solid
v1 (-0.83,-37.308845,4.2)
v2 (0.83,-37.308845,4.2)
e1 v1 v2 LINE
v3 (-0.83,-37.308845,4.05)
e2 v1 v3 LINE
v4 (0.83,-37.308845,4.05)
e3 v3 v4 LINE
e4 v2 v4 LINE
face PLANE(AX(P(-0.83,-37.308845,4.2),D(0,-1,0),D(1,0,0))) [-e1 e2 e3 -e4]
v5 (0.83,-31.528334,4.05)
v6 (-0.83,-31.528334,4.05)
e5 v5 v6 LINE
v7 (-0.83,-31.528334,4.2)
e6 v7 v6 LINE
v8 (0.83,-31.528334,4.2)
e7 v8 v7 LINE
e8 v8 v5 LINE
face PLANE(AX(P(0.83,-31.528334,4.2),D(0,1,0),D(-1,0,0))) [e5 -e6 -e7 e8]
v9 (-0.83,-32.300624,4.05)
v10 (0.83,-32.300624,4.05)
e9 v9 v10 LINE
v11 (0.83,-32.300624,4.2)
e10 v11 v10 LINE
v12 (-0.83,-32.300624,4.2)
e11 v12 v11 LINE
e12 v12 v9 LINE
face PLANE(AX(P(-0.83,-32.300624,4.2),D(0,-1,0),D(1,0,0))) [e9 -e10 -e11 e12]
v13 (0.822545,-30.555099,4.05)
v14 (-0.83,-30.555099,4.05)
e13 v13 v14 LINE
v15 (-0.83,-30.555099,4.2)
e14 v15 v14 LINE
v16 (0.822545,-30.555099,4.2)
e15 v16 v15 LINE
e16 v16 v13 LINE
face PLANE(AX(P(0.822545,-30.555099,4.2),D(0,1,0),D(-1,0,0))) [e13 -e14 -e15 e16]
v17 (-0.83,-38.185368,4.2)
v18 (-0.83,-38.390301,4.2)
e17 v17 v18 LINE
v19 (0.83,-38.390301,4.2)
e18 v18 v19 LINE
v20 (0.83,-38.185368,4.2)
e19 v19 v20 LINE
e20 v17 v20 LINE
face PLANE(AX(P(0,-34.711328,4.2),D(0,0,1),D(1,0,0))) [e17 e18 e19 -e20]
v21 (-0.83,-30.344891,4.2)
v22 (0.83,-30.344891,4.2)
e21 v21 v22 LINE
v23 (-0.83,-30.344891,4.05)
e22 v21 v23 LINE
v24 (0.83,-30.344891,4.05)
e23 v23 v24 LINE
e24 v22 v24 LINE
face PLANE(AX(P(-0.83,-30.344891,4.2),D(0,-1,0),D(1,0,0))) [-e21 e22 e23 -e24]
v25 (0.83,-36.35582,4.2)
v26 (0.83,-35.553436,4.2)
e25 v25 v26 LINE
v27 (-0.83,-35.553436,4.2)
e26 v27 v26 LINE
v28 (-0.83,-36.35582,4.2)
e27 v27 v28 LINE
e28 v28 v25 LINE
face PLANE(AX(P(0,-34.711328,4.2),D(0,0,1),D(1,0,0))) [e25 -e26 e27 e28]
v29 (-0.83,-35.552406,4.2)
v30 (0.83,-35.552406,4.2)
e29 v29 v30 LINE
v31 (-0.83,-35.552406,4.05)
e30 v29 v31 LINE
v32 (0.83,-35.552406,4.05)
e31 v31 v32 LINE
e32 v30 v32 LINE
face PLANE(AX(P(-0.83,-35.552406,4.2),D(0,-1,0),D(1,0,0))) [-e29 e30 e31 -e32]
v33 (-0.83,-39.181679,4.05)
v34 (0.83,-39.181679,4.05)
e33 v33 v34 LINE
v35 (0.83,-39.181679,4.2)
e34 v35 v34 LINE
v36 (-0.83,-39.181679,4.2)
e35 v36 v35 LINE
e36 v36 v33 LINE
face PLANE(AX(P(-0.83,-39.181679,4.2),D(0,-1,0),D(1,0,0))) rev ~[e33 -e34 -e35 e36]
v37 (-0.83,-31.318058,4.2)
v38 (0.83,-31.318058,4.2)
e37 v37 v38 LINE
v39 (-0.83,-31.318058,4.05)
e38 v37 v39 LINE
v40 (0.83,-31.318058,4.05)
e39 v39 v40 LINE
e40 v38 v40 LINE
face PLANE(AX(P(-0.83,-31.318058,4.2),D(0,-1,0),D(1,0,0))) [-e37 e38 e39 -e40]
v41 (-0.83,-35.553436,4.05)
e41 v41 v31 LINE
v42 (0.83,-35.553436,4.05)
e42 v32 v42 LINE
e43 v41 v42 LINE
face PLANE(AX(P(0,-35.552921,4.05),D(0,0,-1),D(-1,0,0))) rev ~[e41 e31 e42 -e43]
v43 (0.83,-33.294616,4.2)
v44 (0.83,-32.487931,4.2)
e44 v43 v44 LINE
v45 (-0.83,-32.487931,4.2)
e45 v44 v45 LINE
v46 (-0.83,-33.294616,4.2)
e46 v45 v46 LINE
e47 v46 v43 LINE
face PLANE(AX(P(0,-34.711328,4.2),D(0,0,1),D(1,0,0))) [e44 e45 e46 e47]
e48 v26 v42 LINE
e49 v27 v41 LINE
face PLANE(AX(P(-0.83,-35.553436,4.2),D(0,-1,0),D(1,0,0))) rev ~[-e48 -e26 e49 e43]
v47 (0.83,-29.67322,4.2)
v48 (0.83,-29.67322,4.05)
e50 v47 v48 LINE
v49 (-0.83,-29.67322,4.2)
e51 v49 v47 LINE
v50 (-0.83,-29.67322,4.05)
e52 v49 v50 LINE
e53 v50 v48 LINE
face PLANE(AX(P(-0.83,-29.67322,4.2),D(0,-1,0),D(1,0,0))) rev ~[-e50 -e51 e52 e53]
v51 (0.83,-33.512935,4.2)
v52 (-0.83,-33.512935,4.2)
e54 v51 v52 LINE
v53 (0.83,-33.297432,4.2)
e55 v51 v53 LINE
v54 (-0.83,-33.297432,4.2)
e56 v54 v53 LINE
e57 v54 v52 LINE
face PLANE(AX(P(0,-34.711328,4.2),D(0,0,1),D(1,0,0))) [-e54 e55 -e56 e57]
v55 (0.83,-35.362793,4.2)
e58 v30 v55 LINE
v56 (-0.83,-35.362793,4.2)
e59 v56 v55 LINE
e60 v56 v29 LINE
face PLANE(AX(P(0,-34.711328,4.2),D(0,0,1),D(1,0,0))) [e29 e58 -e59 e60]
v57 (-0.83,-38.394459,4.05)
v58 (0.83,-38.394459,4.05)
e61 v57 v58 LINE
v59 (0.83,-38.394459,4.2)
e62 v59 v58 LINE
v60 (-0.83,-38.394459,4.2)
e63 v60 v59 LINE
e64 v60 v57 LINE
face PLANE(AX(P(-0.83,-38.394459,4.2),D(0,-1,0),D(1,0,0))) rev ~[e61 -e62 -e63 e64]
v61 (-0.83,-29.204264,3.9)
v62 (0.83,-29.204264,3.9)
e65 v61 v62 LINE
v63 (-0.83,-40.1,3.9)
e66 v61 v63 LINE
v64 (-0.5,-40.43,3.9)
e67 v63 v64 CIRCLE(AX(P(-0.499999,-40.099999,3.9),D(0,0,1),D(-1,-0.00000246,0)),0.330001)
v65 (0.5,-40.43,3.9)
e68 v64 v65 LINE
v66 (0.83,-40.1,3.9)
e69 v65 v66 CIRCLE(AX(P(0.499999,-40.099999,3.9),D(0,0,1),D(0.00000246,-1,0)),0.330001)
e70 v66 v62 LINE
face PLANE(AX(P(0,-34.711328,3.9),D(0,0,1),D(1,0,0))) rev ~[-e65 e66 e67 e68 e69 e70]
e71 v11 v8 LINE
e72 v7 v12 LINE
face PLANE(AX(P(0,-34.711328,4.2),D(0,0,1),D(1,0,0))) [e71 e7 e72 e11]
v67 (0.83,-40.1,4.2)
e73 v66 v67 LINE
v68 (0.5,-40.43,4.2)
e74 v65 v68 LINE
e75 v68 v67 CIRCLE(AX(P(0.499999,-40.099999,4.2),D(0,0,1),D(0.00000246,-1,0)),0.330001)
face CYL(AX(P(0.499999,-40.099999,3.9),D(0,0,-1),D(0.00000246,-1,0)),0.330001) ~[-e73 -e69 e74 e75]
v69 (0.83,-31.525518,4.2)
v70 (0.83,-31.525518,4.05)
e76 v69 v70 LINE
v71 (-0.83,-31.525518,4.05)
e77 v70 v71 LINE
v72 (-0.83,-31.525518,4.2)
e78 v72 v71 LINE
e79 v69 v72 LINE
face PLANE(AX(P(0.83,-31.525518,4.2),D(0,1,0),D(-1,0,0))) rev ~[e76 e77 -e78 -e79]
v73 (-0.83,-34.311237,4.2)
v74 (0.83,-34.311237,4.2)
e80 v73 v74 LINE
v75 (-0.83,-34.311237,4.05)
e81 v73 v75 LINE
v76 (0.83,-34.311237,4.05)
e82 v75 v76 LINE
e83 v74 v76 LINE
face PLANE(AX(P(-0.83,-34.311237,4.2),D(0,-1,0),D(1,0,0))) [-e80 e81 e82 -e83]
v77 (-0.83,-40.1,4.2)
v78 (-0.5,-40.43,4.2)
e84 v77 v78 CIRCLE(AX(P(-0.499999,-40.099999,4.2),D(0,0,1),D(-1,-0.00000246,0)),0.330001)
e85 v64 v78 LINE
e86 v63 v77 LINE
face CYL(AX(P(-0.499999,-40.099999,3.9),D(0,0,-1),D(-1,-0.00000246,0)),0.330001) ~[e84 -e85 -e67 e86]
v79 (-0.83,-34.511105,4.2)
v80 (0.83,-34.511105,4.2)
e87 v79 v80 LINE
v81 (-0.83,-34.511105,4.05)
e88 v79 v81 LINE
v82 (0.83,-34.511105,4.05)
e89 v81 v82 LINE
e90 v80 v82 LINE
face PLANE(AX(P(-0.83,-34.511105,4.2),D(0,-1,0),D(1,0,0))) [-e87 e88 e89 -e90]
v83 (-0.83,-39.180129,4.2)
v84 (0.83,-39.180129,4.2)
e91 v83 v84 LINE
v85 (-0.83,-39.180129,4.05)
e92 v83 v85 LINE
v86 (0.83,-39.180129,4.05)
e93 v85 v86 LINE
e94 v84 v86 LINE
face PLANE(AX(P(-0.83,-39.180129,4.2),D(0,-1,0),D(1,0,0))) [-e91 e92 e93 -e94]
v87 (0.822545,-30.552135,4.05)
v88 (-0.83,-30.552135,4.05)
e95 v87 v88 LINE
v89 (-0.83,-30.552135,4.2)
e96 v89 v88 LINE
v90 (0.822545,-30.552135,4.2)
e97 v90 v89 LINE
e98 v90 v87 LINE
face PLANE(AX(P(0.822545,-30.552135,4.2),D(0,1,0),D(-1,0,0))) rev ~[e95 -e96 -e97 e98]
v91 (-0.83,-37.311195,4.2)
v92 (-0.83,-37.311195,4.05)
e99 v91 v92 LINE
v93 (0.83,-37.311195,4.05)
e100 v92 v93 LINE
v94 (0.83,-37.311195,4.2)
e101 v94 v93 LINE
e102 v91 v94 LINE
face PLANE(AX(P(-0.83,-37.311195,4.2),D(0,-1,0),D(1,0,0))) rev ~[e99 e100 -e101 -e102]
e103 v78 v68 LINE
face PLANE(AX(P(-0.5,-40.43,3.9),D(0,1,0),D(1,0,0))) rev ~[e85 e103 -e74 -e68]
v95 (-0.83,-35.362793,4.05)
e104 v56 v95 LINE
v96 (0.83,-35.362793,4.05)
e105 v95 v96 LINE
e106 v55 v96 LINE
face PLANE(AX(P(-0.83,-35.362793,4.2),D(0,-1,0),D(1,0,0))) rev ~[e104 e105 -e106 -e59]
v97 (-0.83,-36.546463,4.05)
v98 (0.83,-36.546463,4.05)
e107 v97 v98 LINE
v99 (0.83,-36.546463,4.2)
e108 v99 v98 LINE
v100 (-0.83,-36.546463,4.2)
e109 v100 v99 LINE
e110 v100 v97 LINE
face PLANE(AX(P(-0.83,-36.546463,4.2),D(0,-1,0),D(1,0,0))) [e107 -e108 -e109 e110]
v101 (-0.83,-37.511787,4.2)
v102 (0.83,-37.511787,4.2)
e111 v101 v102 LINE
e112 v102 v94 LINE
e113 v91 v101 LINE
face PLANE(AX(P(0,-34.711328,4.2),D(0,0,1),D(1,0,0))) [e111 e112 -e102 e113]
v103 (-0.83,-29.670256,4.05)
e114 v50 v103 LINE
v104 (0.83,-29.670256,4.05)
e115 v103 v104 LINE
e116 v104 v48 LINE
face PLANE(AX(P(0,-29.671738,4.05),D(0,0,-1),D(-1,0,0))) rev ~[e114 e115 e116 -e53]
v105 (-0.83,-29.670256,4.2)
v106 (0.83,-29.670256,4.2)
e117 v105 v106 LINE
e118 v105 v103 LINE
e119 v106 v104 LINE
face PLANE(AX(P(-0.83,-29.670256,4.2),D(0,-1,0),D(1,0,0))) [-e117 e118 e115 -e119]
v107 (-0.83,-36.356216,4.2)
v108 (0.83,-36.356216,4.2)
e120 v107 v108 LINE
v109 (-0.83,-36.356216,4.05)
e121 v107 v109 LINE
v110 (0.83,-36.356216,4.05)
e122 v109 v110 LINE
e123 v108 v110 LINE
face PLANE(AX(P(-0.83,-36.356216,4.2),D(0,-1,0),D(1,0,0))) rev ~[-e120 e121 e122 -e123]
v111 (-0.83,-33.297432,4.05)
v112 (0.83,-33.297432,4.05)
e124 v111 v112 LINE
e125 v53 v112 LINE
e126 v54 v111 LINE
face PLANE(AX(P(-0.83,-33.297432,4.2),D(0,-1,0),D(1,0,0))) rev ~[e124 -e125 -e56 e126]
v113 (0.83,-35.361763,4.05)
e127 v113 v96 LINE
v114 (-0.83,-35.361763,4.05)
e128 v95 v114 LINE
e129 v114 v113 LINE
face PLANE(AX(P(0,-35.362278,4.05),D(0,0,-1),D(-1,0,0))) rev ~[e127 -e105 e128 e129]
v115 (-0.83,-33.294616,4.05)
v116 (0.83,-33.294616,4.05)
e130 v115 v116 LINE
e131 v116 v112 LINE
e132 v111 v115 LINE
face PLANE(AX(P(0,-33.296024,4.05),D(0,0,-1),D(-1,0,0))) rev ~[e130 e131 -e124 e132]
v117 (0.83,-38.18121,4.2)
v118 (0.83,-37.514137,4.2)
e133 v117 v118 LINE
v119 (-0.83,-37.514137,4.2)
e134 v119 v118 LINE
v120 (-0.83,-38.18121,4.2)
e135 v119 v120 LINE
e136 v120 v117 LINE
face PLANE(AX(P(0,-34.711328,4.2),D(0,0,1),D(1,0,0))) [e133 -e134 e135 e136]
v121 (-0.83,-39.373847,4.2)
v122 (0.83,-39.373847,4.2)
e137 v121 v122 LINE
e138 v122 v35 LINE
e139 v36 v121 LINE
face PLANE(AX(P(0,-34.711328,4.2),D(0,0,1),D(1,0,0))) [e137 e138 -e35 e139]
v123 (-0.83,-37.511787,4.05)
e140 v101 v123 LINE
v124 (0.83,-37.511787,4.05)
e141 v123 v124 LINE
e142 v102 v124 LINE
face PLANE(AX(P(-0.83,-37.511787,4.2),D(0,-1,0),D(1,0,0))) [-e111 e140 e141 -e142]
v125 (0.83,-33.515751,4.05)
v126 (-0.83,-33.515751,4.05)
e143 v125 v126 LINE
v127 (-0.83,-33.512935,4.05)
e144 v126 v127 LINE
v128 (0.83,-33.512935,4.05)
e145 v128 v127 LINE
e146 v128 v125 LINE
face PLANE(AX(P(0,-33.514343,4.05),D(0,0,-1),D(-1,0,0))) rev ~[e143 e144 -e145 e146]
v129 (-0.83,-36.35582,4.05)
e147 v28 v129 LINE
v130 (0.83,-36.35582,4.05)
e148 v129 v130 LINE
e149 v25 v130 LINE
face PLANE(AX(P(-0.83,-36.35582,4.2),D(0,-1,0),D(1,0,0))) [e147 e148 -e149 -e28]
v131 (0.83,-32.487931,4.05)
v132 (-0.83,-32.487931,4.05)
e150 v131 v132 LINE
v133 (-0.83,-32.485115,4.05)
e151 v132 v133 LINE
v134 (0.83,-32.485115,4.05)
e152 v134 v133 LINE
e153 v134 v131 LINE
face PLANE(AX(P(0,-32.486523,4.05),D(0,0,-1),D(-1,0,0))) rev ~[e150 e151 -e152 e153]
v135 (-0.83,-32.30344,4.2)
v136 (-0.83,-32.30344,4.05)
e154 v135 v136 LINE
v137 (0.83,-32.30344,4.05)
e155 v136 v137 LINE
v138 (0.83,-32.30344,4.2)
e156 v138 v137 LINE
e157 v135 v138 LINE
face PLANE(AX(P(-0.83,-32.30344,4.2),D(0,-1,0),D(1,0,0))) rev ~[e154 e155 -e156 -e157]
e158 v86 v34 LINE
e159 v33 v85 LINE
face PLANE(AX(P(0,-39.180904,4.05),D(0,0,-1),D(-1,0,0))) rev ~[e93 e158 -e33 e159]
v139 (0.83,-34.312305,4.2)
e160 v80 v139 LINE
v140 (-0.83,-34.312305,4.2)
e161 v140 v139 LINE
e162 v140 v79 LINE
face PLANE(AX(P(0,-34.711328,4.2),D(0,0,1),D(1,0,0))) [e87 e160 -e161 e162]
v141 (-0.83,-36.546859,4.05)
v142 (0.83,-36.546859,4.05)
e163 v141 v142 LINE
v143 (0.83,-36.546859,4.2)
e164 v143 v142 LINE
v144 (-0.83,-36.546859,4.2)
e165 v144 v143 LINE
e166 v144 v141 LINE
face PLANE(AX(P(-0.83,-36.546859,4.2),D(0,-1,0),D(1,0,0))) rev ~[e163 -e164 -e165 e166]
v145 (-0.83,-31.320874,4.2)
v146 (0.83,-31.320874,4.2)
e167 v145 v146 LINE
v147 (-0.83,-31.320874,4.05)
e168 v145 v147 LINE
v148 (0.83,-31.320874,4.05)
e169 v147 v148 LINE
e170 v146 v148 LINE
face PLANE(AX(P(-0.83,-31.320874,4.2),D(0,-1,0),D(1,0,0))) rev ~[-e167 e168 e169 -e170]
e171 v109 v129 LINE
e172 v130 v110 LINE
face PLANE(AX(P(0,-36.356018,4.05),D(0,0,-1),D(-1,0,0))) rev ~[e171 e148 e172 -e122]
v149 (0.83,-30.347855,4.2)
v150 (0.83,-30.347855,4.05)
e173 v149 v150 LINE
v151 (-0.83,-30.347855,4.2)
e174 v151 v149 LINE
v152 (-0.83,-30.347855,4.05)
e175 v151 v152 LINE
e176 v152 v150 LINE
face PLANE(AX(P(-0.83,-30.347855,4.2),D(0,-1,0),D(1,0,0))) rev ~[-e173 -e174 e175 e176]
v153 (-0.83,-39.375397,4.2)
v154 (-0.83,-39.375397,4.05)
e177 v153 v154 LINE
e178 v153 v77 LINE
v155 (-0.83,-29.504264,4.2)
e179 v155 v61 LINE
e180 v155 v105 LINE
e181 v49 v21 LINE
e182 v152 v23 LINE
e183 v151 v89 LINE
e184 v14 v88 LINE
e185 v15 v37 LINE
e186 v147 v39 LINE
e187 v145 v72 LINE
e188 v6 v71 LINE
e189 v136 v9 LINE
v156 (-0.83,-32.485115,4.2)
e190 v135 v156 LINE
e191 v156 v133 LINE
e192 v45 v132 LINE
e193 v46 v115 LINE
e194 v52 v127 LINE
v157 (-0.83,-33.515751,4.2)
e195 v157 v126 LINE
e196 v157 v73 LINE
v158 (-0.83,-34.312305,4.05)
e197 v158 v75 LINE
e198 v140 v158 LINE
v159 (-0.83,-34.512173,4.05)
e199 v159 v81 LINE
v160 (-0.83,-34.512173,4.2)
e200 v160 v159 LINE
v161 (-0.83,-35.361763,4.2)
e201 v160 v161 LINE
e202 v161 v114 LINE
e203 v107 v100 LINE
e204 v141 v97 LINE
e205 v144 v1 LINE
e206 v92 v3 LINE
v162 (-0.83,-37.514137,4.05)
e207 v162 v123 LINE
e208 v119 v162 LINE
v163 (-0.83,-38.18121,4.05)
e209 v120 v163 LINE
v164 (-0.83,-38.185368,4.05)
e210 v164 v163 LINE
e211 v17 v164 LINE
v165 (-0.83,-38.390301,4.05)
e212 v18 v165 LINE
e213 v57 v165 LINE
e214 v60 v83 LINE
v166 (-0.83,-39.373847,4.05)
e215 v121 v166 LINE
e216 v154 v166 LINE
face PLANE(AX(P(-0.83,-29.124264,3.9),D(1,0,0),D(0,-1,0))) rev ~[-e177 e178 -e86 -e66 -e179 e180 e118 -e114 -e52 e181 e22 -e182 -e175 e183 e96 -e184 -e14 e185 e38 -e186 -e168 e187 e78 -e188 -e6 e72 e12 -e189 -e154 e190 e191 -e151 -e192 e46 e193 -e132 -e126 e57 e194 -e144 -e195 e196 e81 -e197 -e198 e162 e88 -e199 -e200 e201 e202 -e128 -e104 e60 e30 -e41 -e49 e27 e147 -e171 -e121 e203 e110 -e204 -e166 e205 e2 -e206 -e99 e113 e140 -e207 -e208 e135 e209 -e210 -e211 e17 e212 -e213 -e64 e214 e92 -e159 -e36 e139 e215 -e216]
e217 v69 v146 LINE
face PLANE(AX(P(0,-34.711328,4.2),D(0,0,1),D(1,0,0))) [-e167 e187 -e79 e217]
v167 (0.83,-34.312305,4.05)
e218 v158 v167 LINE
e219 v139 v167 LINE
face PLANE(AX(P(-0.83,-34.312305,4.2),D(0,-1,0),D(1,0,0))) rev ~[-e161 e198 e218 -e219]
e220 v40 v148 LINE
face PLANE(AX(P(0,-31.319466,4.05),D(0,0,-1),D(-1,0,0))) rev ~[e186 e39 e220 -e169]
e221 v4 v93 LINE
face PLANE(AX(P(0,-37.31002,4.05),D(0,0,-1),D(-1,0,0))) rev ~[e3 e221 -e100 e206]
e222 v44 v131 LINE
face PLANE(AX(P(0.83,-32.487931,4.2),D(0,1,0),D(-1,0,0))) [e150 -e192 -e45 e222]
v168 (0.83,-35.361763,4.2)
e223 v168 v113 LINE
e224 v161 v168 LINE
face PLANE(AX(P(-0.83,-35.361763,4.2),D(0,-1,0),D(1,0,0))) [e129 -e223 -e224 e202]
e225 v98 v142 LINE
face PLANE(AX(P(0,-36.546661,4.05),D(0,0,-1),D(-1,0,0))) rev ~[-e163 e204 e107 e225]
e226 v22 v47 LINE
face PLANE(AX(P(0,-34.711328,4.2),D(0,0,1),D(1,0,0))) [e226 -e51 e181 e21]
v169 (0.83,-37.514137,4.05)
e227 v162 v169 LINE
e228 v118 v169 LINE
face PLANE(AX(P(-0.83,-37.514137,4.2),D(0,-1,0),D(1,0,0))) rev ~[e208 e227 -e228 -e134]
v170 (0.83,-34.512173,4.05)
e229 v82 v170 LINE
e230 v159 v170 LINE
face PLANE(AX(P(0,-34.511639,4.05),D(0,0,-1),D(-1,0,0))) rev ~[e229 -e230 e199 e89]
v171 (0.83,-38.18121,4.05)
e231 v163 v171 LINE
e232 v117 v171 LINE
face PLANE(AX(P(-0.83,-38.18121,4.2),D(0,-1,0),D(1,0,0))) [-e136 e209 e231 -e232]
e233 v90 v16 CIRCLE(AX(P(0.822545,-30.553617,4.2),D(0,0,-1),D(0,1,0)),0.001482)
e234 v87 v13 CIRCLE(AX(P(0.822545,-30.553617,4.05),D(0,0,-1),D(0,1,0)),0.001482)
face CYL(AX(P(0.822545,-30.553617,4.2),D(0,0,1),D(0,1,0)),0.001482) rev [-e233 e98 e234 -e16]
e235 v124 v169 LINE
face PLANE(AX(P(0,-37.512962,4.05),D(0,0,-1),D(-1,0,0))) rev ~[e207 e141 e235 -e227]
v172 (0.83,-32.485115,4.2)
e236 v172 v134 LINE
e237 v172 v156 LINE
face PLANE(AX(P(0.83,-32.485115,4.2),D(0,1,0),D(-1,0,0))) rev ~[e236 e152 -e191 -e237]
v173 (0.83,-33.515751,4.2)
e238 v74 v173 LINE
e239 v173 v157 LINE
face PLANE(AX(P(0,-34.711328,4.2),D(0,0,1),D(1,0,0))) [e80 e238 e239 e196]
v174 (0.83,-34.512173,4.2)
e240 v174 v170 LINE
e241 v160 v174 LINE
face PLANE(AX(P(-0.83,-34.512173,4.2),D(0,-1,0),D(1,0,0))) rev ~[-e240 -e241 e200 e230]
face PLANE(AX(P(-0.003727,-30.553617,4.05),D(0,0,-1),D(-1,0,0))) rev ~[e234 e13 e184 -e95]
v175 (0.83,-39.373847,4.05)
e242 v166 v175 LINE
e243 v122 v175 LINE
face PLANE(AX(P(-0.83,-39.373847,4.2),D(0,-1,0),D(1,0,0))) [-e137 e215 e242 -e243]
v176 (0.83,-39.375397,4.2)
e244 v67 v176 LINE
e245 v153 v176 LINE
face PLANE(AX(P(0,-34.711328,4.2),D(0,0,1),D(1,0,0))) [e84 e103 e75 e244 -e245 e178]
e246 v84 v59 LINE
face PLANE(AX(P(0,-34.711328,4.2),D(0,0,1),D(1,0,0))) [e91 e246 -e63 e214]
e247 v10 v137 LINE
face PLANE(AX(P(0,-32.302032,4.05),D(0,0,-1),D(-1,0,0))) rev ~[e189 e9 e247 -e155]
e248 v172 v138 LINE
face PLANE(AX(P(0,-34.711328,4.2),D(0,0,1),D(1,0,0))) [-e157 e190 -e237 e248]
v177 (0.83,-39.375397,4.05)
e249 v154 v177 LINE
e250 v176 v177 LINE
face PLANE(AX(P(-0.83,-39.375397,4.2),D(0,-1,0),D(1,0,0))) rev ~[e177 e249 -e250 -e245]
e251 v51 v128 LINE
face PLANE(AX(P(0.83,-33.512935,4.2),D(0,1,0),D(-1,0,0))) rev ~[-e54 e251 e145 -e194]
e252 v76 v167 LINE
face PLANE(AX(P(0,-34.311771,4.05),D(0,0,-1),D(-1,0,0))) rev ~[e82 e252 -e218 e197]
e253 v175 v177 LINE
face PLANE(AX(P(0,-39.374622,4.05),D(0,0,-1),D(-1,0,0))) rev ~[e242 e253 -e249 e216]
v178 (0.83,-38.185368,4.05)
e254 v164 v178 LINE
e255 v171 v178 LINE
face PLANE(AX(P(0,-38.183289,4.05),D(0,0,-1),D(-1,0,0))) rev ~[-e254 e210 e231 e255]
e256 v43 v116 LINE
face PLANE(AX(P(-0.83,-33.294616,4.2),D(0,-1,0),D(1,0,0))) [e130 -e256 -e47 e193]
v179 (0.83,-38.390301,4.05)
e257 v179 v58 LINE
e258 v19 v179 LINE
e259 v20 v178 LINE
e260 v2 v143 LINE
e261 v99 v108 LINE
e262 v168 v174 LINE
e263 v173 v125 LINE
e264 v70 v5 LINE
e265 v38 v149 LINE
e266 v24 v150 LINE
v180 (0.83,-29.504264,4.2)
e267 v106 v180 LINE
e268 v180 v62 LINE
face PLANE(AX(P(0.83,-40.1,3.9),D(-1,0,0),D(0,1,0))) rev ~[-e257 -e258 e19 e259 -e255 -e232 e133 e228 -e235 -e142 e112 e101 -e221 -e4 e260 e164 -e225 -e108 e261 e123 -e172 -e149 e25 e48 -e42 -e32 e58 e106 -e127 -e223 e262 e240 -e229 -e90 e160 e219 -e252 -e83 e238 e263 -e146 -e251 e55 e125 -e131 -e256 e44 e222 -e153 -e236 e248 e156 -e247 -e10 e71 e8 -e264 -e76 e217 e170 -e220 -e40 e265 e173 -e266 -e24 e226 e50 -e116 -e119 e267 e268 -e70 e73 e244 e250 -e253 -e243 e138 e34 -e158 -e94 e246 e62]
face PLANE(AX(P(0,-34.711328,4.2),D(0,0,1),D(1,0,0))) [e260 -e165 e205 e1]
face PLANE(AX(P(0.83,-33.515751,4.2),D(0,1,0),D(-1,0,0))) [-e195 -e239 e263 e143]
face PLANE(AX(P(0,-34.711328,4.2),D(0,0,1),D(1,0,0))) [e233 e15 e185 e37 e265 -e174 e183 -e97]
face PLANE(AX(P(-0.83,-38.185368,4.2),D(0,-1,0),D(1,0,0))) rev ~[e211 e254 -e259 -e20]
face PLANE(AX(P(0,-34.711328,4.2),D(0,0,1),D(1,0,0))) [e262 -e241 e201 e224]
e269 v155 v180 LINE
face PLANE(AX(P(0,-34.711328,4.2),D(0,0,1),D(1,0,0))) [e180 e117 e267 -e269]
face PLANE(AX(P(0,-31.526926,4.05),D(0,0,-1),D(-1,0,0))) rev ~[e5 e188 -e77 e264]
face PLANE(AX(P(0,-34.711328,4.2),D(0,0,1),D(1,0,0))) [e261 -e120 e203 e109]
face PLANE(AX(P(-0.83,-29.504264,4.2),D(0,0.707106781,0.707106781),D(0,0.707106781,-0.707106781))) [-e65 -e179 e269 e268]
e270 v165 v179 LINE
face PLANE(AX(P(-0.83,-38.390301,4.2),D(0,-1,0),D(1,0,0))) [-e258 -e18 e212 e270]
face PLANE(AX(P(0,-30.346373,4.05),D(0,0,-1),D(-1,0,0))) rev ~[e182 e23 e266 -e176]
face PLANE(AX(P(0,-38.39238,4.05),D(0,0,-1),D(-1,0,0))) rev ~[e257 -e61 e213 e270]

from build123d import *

# Parameters (mm, degrees)
PAD005_DEPTH    = 0.3
POCKET019_DEPTH = 5
POCKET021_DEPTH = 0.15


with BuildPart() as part:
    # Sketch022 (on Face1 of Binder004) → Pad005 (new body)
    with BuildSketch(Plane.XY.offset(3.9)):
        with BuildLine():
            Line((-0.83, -29.124264), (-0.83, -40.1))
            ThreePointArc((-0.83, -40.1), (-0.733345, -40.333345), (-0.5, -40.43))
            Line((-0.5, -40.43), (0.5, -40.43))
            ThreePointArc((0.5, -40.43), (0.733345, -40.333345), (0.83, -40.1))
            Line((0.83, -40.1), (0.83, -29.124264))
            Line((0.83, -29.124264), (-0.83, -29.124264))
        make_face()
    extrude(amount=PAD005_DEPTH)

    # Sketch023 (on Face1 of Pad005) → Pocket019 (cut)
    with BuildSketch(Plane(origin=(-0.83, 0, 0), x_dir=(0, -1, 0), z_dir=(-1, 0, 0))):
        Polygon((29.124264, 4.2), (29.504264, 4.2), (29.204264, 3.9), (29.124264, 3.9), align=None)
    extrude(amount=-POCKET019_DEPTH, mode=Mode.SUBTRACT)

    # Sketch025 (on Face4 of Pocket019) → Pocket021 (cut)
    with BuildSketch(Plane.XY.offset(4.2)):
        with BuildLine():
            ThreePointArc((-0.83, -29.67322), (-0.831482, -29.671738), (-0.83, -29.670256))
            Line((-0.83, -29.670256), (-0.276667, -29.670256))
            Line((-0.276667, -29.670256), (0.83, -29.670256))
            ThreePointArc((0.83, -29.670256), (0.831482, -29.671738), (0.83, -29.67322))
            Line((-0.276667, -29.67322), (0.83, -29.67322))
            Line((-0.83, -29.67322), (-0.276667, -29.67322))
        make_face()
        with BuildLine():
            ThreePointArc((0.822545, -30.552135), (0.824027, -30.553617), (0.822545, -30.555099))
            Line((0.822545, -30.555099), (0.271697, -30.555099))
            Line((0.271697, -30.555099), (-0.83, -30.555099))
            ThreePointArc((-0.83, -30.555099), (-0.831482, -30.553617), (-0.83, -30.552135))
            Line((0.271697, -30.552135), (-0.83, -30.552135))
            Line((0.822545, -30.552135), (0.271697, -30.552135))
        make_face()
        with BuildLine():
            ThreePointArc((-0.83, -30.347855), (-0.831482, -30.346373), (-0.83, -30.344891))
            Line((-0.83, -30.344891), (-0.276667, -30.344891))
            Line((-0.276667, -30.344891), (0.83, -30.344891))
            ThreePointArc((0.83, -30.344891), (0.831482, -30.346373), (0.83, -30.347855))
            Line((-0.276667, -30.347855), (0.83, -30.347855))
            Line((-0.83, -30.347855), (-0.276667, -30.347855))
        make_face()
        with BuildLine():
            ThreePointArc((-0.83, -31.320874), (-0.831408, -31.319466), (-0.83, -31.318058))
            Line((-0.83, -31.318058), (-0.276667, -31.318058))
            Line((-0.276667, -31.318058), (0.83, -31.318058))
            ThreePointArc((0.83, -31.318058), (0.831408, -31.319466), (0.83, -31.320874))
            Line((-0.276667, -31.320874), (0.83, -31.320874))
            Line((-0.83, -31.320874), (-0.276667, -31.320874))
        make_face()
        with BuildLine():
            ThreePointArc((0.83, -33.512935), (0.831408, -33.514343), (0.83, -33.515751))
            Line((0.83, -33.515751), (0.276667, -33.515751))
            Line((0.276667, -33.515751), (-0.83, -33.515751))
            ThreePointArc((-0.83, -33.515751), (-0.831408, -33.514343), (-0.83, -33.512935))
            Line((0.276667, -33.512935), (-0.83, -33.512935))
            Line((0.83, -33.512935), (0.276667, -33.512935))
        make_face()
        with BuildLine():
            ThreePointArc((-0.83, -33.297432), (-0.831408, -33.296024), (-0.83, -33.294616))
            Line((-0.83, -33.294616), (-0.276667, -33.294616))
            Line((-0.276667, -33.294616), (0.83, -33.294616))
            ThreePointArc((0.83, -33.294616), (0.831408, -33.296024), (0.83, -33.297432))
            Line((-0.276667, -33.297432), (0.83, -33.297432))
            Line((-0.83, -33.297432), (-0.276667, -33.297432))
        make_face()
        with BuildLine():
            ThreePointArc((0.83, -32.485115), (0.831408, -32.486523), (0.83, -32.487931))
            Line((0.83, -32.487931), (0.276667, -32.487931))
            Line((0.276667, -32.487931), (-0.83, -32.487931))
            ThreePointArc((-0.83, -32.487931), (-0.831408, -32.486523), (-0.83, -32.485115))
            Line((0.276667, -32.485115), (-0.83, -32.485115))
            Line((0.83, -32.485115), (0.276667, -32.485115))
        make_face()
        with BuildLine():
            ThreePointArc((-0.83, -32.30344), (-0.831408, -32.302032), (-0.83, -32.300624))
            Line((-0.83, -32.300624), (-0.276667, -32.300624))
            Line((-0.276667, -32.300624), (0.83, -32.300624))
            ThreePointArc((0.83, -32.300624), (0.831408, -32.302032), (0.83, -32.30344))
            Line((-0.276667, -32.30344), (0.83, -32.30344))
            Line((-0.83, -32.30344), (-0.276667, -32.30344))
        make_face()
        with BuildLine():
            ThreePointArc((0.83, -31.525518), (0.831408, -31.526926), (0.83, -31.528334))
            Line((0.83, -31.528334), (0.276667, -31.528334))
            Line((0.276667, -31.528334), (-0.83, -31.528334))
            ThreePointArc((-0.83, -31.528334), (-0.831408, -31.526926), (-0.83, -31.525518))
            Line((0.276667, -31.525518), (-0.83, -31.525518))
            Line((0.83, -31.525518), (0.276667, -31.525518))
        make_face()
        with BuildLine():
            ThreePointArc((-0.83, -34.312305), (-0.830534, -34.311771), (-0.83, -34.311237))
            Line((-0.83, -34.311237), (-0.276667, -34.311237))
            Line((-0.276667, -34.311237), (0.83, -34.311237))
            ThreePointArc((0.83, -34.311237), (0.830534, -34.311771), (0.83, -34.312305))
            Line((-0.276667, -34.312305), (0.83, -34.312305))
            Line((-0.83, -34.312305), (-0.276667, -34.312305))
        make_face()
        with BuildLine():
            ThreePointArc((-0.83, -34.512173), (-0.830534, -34.511639), (-0.83, -34.511105))
            Line((-0.83, -34.511105), (-0.276667, -34.511105))
            Line((-0.276667, -34.511105), (0.83, -34.511105))
            ThreePointArc((0.83, -34.511105), (0.830534, -34.511639), (0.83, -34.512173))
            Line((-0.276667, -34.512173), (0.83, -34.512173))
            Line((-0.83, -34.512173), (-0.276667, -34.512173))
        make_face()
        with BuildLine():
            ThreePointArc((-0.83, -35.362793), (-0.830515, -35.362278), (-0.83, -35.361763))
            Line((-0.83, -35.361763), (-0.276667, -35.361763))
            Line((-0.276667, -35.361763), (0.83, -35.361763))
            ThreePointArc((0.83, -35.361763), (0.830515, -35.362278), (0.83, -35.362793))
            Line((-0.276667, -35.362793), (0.83, -35.362793))
            Line((-0.83, -35.362793), (-0.276667, -35.362793))
        make_face()
        with BuildLine():
            ThreePointArc((-0.83, -35.553436), (-0.830515, -35.552921), (-0.83, -35.552406))
            Line((-0.83, -35.552406), (-0.276667, -35.552406))
            Line((-0.276667, -35.552406), (0.83, -35.552406))
            ThreePointArc((0.83, -35.552406), (0.830515, -35.552921), (0.83, -35.553436))
            Line((-0.276667, -35.553436), (0.83, -35.553436))
            Line((-0.83, -35.553436), (-0.276667, -35.553436))
        make_face()
        with BuildLine():
            ThreePointArc((-0.83, -36.356216), (-0.830198, -36.356018), (-0.83, -36.35582))
            Line((-0.83, -36.35582), (-0.276667, -36.35582))
            Line((-0.276667, -36.35582), (0.83, -36.35582))
            ThreePointArc((0.83, -36.35582), (0.830198, -36.356018), (0.83, -36.356216))
            Line((-0.276667, -36.356216), (0.83, -36.356216))
            Line((-0.83, -36.356216), (-0.276667, -36.356216))
        make_face()
        with BuildLine():
            ThreePointArc((-0.83, -36.546859), (-0.830198, -36.546661), (-0.83, -36.546463))
            Line((-0.83, -36.546463), (-0.276667, -36.546463))
            Line((-0.276667, -36.546463), (0.83, -36.546463))
            ThreePointArc((0.83, -36.546463), (0.830198, -36.546661), (0.83, -36.546859))
            Line((-0.276667, -36.546859), (0.83, -36.546859))
            Line((-0.83, -36.546859), (-0.276667, -36.546859))
        make_face()
        with BuildLine():
            ThreePointArc((-0.83, -37.311195), (-0.831175, -37.31002), (-0.83, -37.308845))
            Line((-0.83, -37.308845), (-0.276667, -37.308845))
            Line((-0.276667, -37.308845), (0.83, -37.308845))
            ThreePointArc((0.83, -37.308845), (0.831175, -37.31002), (0.83, -37.311195))
            Line((-0.276667, -37.311195), (0.83, -37.311195))
            Line((-0.83, -37.311195), (-0.276667, -37.311195))
        make_face()
        with BuildLine():
            ThreePointArc((-0.83, -37.514137), (-0.831175, -37.512962), (-0.83, -37.511787))
            Line((-0.83, -37.511787), (-0.276667, -37.511787))
            Line((-0.276667, -37.511787), (0.83, -37.511787))
            ThreePointArc((0.83, -37.511787), (0.831175, -37.512962), (0.83, -37.514137))
            Line((-0.276667, -37.514137), (0.83, -37.514137))
            Line((-0.83, -37.514137), (-0.276667, -37.514137))
        make_face()
        with BuildLine():
            ThreePointArc((-0.83, -38.185368), (-0.832079, -38.183289), (-0.83, -38.18121))
            Line((-0.83, -38.18121), (-0.276667, -38.18121))
            Line((-0.276667, -38.18121), (0.83, -38.18121))
            ThreePointArc((0.83, -38.18121), (0.832079, -38.183289), (0.83, -38.185368))
            Line((-0.276667, -38.185368), (0.83, -38.185368))
            Line((-0.83, -38.185368), (-0.276667, -38.185368))
        make_face()
        with BuildLine():
            ThreePointArc((-0.83, -38.394459), (-0.832079, -38.39238), (-0.83, -38.390301))
            Line((-0.83, -38.390301), (-0.276667, -38.390301))
            Line((-0.276667, -38.390301), (0.83, -38.390301))
            ThreePointArc((0.83, -38.390301), (0.832079, -38.39238), (0.83, -38.394459))
            Line((-0.276667, -38.394459), (0.83, -38.394459))
            Line((-0.83, -38.394459), (-0.276667, -38.394459))
        make_face()
        with BuildLine():
            ThreePointArc((-0.83, -39.181679), (-0.830775, -39.180904), (-0.83, -39.180129))
            Line((-0.83, -39.180129), (-0.276667, -39.180129))
            Line((-0.276667, -39.180129), (0.83, -39.180129))
            ThreePointArc((0.83, -39.180129), (0.830775, -39.180904), (0.83, -39.181679))
            Line((-0.276667, -39.181679), (0.83, -39.181679))
            Line((-0.83, -39.181679), (-0.276667, -39.181679))
        make_face()
        with BuildLine():
            ThreePointArc((-0.83, -39.375397), (-0.830775, -39.374622), (-0.83, -39.373847))
            Line((-0.83, -39.373847), (-0.276667, -39.373847))
            Line((-0.276667, -39.373847), (0.83, -39.373847))
            ThreePointArc((0.83, -39.373847), (0.830775, -39.374622), (0.83, -39.375397))
            Line((-0.276667, -39.375397), (0.83, -39.375397))
            Line((-0.83, -39.375397), (-0.276667, -39.375397))
        make_face()
    extrude(amount=-POCKET021_DEPTH, mode=Mode.SUBTRACT)


solid = part.part
